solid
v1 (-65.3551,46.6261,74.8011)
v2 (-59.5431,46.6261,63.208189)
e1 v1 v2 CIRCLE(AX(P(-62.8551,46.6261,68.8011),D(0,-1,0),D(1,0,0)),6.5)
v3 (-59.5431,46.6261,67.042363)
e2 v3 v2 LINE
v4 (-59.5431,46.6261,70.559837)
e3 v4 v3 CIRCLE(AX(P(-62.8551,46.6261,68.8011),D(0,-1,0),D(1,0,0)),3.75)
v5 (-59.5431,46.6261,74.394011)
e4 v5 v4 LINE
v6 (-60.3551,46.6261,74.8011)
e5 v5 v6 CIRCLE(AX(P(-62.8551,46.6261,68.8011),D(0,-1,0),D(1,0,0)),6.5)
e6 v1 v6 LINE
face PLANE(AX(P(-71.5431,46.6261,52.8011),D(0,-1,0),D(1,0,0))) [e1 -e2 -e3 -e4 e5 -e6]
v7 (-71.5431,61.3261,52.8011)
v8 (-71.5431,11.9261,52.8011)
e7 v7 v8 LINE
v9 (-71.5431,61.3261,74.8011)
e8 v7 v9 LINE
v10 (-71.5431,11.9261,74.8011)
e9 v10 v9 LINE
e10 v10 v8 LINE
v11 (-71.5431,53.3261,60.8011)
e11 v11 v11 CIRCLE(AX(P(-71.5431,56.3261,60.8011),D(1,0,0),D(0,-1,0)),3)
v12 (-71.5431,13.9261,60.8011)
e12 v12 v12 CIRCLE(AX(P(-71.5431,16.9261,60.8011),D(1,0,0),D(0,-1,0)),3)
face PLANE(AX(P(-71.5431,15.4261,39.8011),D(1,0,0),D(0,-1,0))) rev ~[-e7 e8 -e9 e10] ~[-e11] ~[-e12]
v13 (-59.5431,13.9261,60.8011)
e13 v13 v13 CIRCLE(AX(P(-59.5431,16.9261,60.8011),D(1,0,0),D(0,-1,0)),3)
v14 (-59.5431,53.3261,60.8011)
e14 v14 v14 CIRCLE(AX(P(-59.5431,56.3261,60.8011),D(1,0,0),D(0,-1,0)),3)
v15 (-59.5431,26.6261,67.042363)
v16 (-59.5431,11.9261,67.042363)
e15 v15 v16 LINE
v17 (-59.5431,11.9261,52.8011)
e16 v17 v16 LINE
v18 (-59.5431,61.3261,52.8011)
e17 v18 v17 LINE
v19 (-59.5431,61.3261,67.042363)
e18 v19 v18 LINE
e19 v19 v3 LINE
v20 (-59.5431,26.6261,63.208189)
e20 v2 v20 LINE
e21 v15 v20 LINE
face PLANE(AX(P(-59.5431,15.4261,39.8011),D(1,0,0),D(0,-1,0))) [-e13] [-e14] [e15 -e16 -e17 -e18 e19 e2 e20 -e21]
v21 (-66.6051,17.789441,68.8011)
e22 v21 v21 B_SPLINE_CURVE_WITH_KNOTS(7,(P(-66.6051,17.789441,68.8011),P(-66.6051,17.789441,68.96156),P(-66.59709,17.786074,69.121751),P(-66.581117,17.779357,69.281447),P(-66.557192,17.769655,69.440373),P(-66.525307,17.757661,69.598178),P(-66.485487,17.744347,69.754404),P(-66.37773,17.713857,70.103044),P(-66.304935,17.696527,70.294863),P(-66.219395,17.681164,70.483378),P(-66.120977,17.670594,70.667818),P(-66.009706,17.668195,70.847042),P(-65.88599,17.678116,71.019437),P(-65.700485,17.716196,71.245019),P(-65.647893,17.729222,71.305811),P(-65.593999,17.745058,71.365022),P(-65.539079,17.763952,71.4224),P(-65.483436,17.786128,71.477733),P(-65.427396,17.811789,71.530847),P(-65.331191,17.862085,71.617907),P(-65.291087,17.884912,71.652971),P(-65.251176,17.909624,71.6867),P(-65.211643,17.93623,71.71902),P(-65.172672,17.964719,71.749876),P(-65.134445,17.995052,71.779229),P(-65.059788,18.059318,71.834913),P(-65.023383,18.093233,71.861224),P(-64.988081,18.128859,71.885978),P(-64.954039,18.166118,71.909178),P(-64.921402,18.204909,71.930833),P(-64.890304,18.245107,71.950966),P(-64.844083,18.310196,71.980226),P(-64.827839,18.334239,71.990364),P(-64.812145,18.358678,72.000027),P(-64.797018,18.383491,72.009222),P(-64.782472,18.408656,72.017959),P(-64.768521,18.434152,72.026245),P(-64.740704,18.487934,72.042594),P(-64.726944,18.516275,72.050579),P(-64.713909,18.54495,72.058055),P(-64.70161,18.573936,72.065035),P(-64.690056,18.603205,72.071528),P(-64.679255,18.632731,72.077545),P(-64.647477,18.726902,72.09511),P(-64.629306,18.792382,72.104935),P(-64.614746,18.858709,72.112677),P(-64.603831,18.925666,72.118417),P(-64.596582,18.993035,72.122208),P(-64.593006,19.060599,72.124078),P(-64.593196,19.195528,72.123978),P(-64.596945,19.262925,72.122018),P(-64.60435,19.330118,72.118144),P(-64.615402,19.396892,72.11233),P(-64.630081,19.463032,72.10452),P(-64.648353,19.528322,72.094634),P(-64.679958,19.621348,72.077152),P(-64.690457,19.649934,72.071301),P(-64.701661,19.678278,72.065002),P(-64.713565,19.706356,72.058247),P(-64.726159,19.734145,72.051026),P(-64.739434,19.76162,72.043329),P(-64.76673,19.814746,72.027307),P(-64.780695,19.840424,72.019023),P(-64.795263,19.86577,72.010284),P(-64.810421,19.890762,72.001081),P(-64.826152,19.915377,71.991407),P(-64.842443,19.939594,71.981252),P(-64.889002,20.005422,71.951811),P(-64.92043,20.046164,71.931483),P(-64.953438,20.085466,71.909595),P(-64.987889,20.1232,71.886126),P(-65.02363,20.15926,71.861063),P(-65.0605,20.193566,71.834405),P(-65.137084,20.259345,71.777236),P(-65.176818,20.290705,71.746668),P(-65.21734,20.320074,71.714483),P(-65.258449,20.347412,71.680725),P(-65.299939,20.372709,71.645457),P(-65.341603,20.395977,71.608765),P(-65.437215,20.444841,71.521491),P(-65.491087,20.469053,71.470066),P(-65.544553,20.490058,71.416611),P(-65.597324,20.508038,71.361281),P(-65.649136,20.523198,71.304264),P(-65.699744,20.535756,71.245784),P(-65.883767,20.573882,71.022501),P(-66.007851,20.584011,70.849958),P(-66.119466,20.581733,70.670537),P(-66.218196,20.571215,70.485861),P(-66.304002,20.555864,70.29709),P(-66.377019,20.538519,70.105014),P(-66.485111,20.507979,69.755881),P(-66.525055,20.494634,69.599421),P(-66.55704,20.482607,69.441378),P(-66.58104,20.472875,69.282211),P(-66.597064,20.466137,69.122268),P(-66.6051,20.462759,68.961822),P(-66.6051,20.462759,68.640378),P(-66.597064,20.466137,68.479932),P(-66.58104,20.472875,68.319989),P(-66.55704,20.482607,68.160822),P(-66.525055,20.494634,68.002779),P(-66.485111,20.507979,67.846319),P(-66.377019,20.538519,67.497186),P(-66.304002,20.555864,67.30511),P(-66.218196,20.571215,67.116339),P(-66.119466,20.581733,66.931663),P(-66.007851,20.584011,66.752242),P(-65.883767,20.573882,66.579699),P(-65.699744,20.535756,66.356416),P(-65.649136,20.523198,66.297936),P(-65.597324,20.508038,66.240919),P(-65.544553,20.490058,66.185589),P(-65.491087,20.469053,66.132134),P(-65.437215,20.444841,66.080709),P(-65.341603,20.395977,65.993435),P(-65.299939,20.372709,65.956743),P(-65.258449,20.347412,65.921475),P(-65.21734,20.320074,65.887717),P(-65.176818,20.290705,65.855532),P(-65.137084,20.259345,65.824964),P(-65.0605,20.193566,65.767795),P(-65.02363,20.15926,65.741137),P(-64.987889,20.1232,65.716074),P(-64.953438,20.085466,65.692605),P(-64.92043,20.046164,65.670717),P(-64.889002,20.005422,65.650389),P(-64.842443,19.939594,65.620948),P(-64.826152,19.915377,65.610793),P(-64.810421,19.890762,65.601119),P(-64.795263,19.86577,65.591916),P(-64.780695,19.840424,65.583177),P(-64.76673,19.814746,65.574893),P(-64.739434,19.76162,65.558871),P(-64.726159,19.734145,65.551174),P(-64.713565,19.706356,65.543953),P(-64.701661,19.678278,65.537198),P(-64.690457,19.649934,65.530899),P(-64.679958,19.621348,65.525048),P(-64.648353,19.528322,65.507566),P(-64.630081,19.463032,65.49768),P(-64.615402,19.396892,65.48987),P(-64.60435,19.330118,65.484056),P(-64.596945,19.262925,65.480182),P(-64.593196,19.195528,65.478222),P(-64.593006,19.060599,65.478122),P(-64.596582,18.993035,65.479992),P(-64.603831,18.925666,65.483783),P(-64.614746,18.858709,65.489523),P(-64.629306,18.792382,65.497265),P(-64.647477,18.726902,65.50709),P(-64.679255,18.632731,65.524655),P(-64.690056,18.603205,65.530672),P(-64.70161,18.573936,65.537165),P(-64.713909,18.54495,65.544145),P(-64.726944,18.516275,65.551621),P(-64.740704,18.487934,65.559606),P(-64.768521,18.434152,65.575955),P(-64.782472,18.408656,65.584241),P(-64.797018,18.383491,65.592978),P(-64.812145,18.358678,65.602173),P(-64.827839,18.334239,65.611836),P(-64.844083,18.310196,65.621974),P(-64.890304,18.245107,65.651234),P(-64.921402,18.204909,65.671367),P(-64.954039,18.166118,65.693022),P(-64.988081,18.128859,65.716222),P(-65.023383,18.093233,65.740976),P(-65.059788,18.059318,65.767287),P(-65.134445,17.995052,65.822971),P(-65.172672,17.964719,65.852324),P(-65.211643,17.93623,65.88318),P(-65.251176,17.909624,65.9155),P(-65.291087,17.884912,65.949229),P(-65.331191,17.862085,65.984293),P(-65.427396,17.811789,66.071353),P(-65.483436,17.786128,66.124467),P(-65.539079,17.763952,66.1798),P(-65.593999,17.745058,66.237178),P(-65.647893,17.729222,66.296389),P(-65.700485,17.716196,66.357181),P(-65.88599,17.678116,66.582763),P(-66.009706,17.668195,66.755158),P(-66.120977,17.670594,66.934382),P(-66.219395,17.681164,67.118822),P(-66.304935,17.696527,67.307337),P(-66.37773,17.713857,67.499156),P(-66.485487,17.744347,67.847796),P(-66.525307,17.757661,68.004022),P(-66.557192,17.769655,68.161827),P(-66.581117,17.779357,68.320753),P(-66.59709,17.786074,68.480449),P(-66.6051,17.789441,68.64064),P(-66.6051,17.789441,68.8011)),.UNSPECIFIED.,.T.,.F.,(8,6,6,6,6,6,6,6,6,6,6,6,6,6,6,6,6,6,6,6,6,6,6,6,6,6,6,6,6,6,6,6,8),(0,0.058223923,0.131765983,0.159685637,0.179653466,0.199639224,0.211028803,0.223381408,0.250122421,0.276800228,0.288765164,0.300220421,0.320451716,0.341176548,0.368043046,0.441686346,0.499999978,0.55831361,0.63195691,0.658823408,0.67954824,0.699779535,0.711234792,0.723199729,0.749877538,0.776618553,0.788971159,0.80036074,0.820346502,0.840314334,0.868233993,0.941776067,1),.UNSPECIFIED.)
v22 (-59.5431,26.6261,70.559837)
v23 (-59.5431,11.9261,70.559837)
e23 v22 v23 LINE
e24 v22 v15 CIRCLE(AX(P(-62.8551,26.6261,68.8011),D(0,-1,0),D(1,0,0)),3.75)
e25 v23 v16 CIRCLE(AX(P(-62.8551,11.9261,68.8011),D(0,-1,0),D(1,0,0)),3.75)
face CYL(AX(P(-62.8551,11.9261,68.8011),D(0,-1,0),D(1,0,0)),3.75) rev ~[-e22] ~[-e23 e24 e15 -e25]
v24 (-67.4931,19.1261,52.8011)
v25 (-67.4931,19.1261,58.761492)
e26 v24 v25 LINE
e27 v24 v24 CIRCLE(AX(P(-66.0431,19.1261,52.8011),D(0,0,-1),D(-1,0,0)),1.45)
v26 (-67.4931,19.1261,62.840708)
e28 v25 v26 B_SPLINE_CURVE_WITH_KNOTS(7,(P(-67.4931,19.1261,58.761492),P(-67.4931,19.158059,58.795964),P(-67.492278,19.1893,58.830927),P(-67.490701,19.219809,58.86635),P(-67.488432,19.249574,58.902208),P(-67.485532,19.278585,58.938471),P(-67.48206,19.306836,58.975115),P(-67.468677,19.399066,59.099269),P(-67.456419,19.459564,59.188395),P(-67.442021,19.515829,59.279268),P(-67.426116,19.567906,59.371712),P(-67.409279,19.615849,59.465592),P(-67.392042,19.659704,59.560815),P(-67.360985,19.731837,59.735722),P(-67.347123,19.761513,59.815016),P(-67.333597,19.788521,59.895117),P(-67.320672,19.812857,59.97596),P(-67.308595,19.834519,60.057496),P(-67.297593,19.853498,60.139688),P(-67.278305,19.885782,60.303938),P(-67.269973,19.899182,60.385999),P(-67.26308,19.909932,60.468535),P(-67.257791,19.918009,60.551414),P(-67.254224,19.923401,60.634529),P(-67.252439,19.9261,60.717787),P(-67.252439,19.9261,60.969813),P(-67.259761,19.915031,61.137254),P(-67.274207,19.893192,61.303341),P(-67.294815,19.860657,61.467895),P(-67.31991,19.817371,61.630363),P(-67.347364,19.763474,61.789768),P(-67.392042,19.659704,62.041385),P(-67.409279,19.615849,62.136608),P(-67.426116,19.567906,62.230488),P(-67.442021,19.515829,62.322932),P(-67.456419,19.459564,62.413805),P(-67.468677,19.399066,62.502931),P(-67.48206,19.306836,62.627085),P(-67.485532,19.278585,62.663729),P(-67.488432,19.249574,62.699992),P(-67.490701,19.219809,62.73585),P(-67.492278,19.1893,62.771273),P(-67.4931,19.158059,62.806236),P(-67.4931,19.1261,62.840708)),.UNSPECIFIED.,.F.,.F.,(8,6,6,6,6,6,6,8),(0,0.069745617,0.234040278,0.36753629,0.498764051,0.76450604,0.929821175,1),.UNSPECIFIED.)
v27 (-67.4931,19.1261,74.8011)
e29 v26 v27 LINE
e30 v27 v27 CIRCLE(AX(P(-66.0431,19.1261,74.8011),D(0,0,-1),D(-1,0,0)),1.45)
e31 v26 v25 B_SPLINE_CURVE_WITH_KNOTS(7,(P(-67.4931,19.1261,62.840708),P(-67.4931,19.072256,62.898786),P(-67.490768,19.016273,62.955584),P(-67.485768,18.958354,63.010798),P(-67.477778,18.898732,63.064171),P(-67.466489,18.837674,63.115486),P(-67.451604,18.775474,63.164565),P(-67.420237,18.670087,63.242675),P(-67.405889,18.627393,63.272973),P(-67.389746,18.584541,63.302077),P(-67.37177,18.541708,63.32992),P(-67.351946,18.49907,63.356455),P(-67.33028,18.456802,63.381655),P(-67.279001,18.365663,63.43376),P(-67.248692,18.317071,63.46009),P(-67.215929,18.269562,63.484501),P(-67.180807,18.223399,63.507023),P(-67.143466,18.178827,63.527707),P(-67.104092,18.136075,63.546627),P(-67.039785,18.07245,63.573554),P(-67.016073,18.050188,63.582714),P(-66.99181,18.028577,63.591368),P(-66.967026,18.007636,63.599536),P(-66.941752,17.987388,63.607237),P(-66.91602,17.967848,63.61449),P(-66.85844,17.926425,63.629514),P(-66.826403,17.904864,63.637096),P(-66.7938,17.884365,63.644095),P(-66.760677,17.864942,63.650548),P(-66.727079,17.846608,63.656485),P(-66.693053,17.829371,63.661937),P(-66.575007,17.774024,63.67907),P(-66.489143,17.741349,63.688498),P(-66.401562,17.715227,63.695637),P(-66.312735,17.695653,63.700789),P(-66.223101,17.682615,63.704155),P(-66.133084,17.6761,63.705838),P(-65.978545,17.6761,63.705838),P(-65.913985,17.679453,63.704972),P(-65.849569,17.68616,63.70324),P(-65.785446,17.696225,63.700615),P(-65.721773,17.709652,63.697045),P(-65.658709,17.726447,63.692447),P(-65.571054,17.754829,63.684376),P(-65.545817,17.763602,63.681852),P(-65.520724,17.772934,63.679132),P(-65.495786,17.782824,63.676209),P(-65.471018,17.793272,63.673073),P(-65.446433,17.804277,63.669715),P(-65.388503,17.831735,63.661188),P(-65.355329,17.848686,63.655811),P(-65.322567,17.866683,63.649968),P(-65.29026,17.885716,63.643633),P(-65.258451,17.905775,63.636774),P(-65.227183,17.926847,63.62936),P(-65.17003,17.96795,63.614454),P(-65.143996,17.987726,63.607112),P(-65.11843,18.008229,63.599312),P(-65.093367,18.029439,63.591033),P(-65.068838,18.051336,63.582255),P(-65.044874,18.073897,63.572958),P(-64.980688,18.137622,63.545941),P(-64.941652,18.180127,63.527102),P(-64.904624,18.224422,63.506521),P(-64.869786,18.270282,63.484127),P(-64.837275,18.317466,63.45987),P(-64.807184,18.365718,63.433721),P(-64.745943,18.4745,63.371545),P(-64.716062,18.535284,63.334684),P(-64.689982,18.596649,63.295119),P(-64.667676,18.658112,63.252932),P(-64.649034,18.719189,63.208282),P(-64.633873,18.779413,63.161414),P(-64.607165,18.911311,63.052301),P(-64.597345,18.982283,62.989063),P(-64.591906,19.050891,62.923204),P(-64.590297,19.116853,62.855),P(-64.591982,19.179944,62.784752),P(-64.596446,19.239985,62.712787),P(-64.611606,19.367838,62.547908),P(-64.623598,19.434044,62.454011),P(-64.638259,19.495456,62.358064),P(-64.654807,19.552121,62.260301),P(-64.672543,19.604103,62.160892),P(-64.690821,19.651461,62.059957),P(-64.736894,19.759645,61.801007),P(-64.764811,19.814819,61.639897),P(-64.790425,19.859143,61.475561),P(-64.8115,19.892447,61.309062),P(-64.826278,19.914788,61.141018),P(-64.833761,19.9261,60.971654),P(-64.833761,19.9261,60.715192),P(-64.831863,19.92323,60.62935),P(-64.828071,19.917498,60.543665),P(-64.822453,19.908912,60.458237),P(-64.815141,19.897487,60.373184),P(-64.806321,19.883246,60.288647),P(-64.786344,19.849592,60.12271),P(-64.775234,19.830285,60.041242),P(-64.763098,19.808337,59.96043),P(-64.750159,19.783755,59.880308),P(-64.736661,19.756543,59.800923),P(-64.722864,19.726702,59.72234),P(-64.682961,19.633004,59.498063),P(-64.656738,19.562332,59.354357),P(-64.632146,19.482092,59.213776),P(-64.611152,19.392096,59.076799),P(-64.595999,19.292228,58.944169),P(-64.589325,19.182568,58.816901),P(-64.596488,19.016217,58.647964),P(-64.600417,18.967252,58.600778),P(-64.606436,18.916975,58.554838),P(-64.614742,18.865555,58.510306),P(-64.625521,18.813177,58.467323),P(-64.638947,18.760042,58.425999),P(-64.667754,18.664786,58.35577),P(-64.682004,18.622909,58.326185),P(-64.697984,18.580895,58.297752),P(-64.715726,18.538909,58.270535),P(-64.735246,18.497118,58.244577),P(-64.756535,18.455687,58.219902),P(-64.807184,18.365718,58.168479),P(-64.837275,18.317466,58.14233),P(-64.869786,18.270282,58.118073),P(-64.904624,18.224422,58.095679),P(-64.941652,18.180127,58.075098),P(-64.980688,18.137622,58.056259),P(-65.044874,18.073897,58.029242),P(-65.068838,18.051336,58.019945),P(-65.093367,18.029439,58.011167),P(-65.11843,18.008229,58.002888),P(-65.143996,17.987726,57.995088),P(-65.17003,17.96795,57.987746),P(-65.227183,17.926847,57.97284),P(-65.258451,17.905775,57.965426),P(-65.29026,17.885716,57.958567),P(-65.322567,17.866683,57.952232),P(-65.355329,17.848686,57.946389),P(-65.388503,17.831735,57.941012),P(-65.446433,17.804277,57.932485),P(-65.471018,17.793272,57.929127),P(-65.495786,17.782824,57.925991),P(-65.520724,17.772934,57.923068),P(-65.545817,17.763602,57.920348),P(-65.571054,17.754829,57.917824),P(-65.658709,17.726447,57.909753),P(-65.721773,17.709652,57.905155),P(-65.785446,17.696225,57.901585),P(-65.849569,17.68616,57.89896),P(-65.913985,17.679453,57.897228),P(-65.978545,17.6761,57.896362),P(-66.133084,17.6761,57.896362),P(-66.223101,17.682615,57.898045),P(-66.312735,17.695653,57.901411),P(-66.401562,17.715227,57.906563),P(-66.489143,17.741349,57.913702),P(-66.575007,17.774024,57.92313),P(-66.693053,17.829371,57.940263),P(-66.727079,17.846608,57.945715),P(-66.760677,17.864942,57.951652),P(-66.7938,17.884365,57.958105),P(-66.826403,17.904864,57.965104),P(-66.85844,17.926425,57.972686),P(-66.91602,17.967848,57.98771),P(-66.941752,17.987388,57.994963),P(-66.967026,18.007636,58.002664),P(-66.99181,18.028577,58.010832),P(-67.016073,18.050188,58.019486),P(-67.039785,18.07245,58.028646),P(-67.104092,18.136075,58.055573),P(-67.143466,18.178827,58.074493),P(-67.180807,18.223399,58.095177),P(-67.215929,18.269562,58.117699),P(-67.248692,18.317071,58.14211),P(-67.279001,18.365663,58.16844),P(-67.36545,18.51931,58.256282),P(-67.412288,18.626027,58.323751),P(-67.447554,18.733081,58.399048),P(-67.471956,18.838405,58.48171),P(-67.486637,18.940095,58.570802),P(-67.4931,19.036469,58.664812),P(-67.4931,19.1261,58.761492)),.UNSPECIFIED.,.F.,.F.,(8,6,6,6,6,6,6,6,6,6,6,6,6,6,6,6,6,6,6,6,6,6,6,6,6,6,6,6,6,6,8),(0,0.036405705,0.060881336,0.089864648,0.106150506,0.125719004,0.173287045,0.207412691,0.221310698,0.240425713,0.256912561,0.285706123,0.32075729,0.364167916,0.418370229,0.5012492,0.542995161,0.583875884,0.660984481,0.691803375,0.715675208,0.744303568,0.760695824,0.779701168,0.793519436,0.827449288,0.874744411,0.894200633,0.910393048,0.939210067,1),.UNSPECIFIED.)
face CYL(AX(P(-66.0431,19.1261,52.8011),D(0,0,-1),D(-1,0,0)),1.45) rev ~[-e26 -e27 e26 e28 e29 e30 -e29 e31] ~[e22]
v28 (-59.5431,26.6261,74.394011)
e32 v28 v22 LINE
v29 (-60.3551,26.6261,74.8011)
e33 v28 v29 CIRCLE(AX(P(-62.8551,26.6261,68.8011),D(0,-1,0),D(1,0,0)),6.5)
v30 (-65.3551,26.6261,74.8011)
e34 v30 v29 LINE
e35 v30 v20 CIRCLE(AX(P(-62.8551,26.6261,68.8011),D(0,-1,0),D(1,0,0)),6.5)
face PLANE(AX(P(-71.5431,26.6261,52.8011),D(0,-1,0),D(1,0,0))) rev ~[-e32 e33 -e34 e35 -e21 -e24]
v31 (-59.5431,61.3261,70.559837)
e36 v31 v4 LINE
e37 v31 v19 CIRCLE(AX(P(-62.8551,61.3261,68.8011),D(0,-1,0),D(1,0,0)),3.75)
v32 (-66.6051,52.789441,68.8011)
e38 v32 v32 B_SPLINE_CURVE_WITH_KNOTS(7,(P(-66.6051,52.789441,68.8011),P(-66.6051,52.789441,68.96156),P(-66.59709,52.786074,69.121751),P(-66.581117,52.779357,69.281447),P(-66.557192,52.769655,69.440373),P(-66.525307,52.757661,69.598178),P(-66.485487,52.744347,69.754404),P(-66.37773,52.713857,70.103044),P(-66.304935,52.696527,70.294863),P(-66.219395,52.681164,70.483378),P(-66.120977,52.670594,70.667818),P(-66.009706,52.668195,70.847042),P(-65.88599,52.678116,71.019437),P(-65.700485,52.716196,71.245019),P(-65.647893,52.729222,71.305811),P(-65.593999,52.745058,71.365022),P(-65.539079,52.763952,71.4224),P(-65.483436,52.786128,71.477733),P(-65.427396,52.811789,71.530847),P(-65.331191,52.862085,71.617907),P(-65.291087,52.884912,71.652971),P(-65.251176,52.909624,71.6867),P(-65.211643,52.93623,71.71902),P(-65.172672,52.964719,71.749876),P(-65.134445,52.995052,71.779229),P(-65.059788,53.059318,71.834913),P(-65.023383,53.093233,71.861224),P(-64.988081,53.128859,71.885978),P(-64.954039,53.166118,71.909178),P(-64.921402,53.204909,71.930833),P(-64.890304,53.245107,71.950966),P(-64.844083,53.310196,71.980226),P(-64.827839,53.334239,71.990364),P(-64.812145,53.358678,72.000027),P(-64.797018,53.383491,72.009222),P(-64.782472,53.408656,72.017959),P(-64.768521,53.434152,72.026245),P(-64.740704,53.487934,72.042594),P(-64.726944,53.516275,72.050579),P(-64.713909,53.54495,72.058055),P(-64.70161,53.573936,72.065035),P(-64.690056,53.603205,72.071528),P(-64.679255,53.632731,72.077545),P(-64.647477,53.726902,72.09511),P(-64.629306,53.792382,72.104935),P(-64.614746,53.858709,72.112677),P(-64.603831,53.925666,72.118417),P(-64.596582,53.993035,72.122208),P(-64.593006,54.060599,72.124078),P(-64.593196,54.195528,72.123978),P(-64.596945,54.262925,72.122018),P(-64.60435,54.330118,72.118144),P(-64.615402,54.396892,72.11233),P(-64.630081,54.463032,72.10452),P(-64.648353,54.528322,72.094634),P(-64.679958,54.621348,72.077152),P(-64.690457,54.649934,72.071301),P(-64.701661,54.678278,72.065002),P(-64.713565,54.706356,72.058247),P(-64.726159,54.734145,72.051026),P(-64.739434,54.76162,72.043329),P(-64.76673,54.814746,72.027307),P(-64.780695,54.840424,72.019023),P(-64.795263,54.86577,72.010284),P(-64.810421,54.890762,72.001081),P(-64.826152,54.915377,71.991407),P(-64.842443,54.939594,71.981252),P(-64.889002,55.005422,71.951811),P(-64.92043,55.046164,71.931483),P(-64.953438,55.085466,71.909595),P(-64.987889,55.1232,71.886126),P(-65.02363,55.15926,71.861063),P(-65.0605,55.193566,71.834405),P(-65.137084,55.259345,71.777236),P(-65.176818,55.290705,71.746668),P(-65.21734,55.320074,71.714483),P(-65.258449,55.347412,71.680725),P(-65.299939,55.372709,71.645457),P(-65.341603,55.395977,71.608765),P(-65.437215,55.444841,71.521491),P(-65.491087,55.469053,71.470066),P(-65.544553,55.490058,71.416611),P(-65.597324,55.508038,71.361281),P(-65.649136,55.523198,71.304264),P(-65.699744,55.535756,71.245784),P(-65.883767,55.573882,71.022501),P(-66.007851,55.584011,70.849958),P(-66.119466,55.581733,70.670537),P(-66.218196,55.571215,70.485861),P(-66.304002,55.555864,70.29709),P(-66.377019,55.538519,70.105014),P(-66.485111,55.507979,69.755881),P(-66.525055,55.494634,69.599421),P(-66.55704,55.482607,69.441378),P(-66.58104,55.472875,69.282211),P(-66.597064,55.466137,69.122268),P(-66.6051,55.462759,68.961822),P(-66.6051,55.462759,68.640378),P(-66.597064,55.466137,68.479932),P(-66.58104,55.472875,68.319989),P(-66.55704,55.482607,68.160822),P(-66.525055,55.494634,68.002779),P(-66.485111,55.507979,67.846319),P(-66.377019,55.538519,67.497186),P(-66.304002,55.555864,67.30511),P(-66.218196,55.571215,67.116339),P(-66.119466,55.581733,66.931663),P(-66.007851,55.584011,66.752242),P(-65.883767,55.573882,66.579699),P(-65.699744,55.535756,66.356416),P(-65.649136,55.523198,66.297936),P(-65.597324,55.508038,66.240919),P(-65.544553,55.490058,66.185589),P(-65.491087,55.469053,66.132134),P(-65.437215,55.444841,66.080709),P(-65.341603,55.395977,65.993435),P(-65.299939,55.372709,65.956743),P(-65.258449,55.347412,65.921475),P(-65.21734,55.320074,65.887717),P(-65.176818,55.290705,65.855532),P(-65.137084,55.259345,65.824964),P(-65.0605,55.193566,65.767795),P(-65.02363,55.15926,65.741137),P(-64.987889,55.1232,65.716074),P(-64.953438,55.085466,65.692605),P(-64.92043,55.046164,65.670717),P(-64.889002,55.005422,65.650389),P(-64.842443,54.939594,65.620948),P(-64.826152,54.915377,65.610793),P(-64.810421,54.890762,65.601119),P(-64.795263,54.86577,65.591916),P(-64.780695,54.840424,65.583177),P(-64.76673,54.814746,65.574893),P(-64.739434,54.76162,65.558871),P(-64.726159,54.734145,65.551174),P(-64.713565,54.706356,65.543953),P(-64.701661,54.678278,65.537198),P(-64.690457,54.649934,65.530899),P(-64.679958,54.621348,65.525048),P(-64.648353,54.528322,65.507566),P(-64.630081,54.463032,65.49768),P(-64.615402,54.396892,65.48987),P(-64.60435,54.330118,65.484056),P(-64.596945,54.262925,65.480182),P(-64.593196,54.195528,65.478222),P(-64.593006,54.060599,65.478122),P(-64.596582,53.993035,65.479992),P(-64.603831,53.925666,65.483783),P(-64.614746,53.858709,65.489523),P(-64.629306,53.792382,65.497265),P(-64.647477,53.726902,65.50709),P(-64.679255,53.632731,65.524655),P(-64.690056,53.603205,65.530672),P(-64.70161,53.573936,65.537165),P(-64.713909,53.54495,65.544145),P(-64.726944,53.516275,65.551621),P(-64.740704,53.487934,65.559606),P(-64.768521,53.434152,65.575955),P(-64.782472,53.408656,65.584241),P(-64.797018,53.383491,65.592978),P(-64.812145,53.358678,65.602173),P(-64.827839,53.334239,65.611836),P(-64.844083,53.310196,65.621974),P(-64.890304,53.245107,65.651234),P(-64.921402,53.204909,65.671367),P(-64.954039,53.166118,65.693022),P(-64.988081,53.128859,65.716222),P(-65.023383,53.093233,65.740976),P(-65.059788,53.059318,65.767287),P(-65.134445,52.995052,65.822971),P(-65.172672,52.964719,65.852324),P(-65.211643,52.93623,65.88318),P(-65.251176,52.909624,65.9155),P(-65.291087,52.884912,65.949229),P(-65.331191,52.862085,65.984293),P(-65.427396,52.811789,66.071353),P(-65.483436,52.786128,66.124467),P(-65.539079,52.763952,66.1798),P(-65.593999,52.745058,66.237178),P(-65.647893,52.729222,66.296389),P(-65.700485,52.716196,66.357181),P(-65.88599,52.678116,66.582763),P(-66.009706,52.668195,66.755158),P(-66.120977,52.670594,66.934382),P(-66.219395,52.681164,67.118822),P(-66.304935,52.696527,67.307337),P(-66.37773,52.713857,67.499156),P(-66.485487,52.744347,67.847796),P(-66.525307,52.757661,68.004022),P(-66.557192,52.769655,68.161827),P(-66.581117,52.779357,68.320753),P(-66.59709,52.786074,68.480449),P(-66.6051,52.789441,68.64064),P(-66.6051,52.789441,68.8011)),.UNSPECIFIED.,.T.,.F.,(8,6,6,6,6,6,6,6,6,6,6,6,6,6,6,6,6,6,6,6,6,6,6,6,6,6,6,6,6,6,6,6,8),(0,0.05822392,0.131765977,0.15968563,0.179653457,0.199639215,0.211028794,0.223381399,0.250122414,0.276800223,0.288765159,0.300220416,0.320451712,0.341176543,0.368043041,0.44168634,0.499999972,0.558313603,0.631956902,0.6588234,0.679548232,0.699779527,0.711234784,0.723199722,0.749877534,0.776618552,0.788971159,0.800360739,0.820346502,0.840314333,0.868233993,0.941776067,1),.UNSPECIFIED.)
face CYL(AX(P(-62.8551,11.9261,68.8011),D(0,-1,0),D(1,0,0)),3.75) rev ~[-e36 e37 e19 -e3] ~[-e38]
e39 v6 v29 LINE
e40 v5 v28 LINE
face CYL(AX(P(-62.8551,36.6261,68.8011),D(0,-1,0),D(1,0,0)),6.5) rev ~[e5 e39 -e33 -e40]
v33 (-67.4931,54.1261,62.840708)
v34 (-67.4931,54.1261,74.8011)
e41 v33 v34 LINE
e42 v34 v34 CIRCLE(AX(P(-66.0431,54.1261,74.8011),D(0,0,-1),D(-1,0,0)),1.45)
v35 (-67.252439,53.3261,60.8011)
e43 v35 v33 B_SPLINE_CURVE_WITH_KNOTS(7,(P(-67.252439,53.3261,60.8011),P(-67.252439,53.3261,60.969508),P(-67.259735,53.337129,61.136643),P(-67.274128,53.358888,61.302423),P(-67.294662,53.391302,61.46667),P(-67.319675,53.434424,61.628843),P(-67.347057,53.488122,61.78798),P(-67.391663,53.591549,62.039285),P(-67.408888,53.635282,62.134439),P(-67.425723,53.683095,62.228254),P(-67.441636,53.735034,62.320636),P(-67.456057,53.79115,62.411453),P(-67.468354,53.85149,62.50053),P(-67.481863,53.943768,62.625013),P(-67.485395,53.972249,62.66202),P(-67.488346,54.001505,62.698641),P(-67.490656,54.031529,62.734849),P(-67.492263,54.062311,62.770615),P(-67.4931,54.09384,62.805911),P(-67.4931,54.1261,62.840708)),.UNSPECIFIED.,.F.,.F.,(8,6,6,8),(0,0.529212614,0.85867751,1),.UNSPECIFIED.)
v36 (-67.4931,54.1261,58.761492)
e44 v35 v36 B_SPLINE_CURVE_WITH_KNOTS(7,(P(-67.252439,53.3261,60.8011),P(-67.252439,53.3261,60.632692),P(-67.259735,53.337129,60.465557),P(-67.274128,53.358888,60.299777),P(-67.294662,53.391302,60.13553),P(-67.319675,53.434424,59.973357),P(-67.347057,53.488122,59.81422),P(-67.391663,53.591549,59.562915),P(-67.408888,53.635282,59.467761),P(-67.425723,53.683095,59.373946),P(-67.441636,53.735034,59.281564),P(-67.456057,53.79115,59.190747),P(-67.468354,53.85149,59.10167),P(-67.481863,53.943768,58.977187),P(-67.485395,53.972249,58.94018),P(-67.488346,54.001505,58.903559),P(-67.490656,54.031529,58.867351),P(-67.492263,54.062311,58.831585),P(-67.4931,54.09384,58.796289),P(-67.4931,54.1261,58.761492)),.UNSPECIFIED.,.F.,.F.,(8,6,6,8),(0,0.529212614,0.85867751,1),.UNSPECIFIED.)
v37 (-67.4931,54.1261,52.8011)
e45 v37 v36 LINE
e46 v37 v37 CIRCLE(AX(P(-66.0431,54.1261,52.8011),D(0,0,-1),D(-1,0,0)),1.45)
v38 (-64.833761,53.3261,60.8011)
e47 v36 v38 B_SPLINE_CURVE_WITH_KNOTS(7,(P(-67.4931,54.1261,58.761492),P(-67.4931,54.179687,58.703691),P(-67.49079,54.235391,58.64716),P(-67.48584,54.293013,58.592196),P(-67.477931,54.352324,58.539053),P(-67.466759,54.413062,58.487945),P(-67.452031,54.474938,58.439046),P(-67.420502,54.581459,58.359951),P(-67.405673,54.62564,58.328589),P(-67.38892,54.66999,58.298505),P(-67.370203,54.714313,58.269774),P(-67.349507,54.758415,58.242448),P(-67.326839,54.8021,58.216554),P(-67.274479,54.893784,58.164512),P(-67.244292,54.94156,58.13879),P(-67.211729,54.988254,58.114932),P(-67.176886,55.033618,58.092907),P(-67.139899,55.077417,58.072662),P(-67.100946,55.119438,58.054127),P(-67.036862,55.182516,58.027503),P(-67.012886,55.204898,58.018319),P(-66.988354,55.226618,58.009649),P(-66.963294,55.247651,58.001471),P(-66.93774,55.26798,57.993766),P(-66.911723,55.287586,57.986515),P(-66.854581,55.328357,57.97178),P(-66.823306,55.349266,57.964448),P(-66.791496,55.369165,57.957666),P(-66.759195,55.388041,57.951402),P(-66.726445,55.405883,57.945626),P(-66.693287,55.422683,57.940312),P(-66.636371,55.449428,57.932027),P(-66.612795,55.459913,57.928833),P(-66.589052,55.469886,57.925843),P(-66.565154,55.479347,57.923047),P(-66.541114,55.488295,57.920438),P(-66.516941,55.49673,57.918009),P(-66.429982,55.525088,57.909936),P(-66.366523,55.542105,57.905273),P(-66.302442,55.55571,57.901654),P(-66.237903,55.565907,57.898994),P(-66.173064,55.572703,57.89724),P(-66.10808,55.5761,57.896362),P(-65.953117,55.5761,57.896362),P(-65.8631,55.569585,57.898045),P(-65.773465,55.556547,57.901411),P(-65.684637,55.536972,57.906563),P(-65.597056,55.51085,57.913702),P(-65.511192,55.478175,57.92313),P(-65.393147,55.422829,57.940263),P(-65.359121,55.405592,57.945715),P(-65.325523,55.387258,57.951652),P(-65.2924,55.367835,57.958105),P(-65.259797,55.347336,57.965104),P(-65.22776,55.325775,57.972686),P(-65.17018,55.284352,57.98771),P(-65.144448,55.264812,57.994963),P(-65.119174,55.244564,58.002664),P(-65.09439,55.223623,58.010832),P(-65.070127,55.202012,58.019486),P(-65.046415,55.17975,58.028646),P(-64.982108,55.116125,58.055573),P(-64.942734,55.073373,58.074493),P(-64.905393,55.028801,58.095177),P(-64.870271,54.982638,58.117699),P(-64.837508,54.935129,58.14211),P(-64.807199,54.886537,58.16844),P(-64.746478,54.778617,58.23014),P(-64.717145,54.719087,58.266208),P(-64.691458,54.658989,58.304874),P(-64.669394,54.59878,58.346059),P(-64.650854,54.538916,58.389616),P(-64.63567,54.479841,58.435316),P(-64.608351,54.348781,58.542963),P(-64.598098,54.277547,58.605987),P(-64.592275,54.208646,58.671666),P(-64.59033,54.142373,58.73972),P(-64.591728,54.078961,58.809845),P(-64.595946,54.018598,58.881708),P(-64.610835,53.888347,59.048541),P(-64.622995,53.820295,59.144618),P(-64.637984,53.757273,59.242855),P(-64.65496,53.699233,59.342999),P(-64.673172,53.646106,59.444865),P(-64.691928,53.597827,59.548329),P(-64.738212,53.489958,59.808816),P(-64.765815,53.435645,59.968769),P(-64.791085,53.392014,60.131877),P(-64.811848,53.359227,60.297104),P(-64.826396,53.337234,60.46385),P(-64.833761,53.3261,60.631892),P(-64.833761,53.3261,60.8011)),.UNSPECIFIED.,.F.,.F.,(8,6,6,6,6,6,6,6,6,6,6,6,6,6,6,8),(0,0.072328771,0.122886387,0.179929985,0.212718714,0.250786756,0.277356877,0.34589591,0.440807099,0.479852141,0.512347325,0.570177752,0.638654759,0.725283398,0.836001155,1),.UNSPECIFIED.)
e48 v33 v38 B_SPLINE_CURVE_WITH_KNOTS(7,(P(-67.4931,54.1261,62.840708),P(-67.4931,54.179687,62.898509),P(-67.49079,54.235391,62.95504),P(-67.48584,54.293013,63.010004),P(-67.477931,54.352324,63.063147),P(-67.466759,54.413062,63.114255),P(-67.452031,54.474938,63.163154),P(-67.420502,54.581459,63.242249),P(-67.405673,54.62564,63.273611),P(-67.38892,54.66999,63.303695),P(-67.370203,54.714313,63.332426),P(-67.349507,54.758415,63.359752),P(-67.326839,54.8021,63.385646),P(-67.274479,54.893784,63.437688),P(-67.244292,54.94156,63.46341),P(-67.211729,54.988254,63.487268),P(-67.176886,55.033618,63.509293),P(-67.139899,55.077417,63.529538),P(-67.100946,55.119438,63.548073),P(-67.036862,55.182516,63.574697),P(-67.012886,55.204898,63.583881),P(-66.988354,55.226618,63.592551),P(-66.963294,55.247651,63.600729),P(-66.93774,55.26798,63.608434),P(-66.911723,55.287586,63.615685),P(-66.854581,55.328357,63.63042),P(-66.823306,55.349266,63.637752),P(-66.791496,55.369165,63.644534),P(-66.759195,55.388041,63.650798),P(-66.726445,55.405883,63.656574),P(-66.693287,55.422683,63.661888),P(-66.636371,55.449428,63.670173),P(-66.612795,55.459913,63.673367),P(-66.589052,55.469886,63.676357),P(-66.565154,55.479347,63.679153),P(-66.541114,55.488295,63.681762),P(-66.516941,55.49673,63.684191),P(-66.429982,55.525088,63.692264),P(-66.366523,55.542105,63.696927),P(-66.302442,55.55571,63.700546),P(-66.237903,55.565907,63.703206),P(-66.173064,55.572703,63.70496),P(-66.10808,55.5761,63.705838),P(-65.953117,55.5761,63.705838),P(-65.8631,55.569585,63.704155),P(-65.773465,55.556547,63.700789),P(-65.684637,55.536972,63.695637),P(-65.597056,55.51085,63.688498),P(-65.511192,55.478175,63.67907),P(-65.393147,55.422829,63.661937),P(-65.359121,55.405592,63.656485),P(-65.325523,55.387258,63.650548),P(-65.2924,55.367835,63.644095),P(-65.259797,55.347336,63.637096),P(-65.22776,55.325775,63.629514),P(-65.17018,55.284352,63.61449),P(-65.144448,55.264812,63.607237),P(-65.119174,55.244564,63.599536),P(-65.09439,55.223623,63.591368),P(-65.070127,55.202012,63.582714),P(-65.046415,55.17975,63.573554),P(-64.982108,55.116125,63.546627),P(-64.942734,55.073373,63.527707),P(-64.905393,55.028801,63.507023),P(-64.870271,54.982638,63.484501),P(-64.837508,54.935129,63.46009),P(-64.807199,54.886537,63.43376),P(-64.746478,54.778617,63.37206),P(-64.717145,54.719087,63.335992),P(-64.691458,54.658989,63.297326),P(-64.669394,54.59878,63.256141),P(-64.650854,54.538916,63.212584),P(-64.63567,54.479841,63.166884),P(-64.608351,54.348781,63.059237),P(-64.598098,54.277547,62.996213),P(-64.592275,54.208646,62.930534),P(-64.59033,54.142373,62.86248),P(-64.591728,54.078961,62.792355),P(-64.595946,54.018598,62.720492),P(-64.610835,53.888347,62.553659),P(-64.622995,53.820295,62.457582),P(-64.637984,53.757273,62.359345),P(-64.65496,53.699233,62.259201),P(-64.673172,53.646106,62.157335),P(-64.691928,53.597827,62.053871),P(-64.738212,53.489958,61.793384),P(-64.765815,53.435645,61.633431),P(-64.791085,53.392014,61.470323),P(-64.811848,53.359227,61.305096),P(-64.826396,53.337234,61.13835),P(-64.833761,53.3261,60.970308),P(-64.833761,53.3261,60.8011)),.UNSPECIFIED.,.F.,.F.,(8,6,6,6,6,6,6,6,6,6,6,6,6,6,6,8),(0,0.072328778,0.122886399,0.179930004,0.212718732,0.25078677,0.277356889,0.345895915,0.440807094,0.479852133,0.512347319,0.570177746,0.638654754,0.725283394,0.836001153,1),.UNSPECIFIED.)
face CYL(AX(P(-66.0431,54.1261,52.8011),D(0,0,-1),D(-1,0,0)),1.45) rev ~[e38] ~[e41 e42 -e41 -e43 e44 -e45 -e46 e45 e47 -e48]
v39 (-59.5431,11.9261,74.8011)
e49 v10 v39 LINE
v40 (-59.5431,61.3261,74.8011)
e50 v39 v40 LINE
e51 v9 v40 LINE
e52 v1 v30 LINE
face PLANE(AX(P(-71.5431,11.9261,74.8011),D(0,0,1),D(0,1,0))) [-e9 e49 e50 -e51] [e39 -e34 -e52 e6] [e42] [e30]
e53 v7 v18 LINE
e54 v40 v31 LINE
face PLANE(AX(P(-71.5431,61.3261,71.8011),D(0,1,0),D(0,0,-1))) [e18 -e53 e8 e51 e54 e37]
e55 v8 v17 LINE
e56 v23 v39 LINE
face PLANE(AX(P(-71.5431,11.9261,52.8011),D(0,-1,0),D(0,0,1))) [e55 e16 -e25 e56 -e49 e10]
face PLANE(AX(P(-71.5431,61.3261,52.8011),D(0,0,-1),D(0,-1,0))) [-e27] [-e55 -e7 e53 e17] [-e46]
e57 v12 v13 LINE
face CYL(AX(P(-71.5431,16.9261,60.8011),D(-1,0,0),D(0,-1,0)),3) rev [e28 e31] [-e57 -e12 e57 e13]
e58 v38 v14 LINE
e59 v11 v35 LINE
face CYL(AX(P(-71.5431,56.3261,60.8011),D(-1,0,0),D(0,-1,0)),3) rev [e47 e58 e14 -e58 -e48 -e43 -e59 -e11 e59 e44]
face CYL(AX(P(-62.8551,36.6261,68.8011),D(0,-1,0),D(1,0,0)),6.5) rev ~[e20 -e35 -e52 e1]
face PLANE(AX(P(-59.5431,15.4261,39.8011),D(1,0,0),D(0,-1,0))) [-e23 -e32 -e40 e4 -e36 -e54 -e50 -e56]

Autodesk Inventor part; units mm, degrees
ref_plane "YZ Plane" through (0, 0, 0) normal (1, 0, 0) x (0, 1, 0)
ref_plane "XZ Plane" through (0, 0, 0) normal (0, 1, 0) x (-1, 0, 0)
ref_plane "XY Plane" through (0, 0, 0) normal (0, 0, 1) x (1, 0, 0)
ref_plane "Work Plane1" through (-71.5431, 15.4261, 39.8011) normal (1, 0, 0) x (0, -1, 0)
sketch "Sketch1" plane through (-71.5431, 15.4261, 39.8011) normal (1, 0, 0) x (0, -1, 0)
  circle A0 centre (-40.9, -21) radius 3 projected
  circle A1 centre (-1.5, -21) radius 3 projected
  line L0 (-45.9, -13) -> (3.5, -13)
  line L1 (3.5, -13) -> (3.5, -35)
  line L2 (3.5, -35) -> (-45.9, -35)
  line L3 (-45.9, -35) -> (-45.9, -13)
  line L4 (66.8457, -32) -> (-83.1543, -32)
  point P0 (15.4261, 39.8011)
  dimension "d0" = 5
  dimension "d1" = 8
  dimension "d2" = 5
  dimension "d3" = 3
extrude "Extrusion1" add sketch "Sketch1" along normal blind 12
sketch "Sketch2" plane through (-71.5431, 11.9261, 52.8011) normal (0, -1, 0) x (1, 0, 0)
  circle A0 centre (8.688, 16) radius 3 projected
  circle A1 centre (8.688, 16) radius 3.75
  point P0 (71.5431, -52.8011)
  dimension "d6" = 7.5
extrude "Extrusion2" cut sketch "Sketch2" against normal through all contours A0 | A1
ref_plane "Work Plane2" through (-71.5431, 36.6261, 52.8011) normal (0, -1, 0) x (1, 0, 0)
sketch "Sketch3" plane through (-71.5431, 36.6261, 52.8011) normal (0, -1, 0) x (1, 0, 0)
  circle A0 centre (8.688, 16) radius 6 projected
  circle A1 centre (8.688, 16) radius 6.5
  point P0 (71.5431, -52.8011)
  dimension "d9" = 0.5
extrude "Extrusion3" cut sketch "Sketch3" along normal mid plane 20 contours A0 | A1
sketch "Sketch5" plane through (-71.5431, 11.9261, 52.8011) normal (0, 0, -1) x (-1, 0, 0)
  circle A0 centre (-5.5, 42.2) radius 2.1 projected
  arc A1 (-5.5, 5.1) -> (-5.5, 9.3) centre (-5.5, 7.2) ccw projected
  circle A2 centre (-5.5, 42.2) radius 1.45
  circle A3 centre (-5.5, 7.2) radius 1.45
  point P0 (-71.5431, -11.9261)
  dimension "d14" = 2.9
  dimension "d15" = 2.9
extrude "Extrusion5" cut sketch "Sketch5" against normal through all contours A2 | A3
properties part number "02_Opentrons_stage_x"
